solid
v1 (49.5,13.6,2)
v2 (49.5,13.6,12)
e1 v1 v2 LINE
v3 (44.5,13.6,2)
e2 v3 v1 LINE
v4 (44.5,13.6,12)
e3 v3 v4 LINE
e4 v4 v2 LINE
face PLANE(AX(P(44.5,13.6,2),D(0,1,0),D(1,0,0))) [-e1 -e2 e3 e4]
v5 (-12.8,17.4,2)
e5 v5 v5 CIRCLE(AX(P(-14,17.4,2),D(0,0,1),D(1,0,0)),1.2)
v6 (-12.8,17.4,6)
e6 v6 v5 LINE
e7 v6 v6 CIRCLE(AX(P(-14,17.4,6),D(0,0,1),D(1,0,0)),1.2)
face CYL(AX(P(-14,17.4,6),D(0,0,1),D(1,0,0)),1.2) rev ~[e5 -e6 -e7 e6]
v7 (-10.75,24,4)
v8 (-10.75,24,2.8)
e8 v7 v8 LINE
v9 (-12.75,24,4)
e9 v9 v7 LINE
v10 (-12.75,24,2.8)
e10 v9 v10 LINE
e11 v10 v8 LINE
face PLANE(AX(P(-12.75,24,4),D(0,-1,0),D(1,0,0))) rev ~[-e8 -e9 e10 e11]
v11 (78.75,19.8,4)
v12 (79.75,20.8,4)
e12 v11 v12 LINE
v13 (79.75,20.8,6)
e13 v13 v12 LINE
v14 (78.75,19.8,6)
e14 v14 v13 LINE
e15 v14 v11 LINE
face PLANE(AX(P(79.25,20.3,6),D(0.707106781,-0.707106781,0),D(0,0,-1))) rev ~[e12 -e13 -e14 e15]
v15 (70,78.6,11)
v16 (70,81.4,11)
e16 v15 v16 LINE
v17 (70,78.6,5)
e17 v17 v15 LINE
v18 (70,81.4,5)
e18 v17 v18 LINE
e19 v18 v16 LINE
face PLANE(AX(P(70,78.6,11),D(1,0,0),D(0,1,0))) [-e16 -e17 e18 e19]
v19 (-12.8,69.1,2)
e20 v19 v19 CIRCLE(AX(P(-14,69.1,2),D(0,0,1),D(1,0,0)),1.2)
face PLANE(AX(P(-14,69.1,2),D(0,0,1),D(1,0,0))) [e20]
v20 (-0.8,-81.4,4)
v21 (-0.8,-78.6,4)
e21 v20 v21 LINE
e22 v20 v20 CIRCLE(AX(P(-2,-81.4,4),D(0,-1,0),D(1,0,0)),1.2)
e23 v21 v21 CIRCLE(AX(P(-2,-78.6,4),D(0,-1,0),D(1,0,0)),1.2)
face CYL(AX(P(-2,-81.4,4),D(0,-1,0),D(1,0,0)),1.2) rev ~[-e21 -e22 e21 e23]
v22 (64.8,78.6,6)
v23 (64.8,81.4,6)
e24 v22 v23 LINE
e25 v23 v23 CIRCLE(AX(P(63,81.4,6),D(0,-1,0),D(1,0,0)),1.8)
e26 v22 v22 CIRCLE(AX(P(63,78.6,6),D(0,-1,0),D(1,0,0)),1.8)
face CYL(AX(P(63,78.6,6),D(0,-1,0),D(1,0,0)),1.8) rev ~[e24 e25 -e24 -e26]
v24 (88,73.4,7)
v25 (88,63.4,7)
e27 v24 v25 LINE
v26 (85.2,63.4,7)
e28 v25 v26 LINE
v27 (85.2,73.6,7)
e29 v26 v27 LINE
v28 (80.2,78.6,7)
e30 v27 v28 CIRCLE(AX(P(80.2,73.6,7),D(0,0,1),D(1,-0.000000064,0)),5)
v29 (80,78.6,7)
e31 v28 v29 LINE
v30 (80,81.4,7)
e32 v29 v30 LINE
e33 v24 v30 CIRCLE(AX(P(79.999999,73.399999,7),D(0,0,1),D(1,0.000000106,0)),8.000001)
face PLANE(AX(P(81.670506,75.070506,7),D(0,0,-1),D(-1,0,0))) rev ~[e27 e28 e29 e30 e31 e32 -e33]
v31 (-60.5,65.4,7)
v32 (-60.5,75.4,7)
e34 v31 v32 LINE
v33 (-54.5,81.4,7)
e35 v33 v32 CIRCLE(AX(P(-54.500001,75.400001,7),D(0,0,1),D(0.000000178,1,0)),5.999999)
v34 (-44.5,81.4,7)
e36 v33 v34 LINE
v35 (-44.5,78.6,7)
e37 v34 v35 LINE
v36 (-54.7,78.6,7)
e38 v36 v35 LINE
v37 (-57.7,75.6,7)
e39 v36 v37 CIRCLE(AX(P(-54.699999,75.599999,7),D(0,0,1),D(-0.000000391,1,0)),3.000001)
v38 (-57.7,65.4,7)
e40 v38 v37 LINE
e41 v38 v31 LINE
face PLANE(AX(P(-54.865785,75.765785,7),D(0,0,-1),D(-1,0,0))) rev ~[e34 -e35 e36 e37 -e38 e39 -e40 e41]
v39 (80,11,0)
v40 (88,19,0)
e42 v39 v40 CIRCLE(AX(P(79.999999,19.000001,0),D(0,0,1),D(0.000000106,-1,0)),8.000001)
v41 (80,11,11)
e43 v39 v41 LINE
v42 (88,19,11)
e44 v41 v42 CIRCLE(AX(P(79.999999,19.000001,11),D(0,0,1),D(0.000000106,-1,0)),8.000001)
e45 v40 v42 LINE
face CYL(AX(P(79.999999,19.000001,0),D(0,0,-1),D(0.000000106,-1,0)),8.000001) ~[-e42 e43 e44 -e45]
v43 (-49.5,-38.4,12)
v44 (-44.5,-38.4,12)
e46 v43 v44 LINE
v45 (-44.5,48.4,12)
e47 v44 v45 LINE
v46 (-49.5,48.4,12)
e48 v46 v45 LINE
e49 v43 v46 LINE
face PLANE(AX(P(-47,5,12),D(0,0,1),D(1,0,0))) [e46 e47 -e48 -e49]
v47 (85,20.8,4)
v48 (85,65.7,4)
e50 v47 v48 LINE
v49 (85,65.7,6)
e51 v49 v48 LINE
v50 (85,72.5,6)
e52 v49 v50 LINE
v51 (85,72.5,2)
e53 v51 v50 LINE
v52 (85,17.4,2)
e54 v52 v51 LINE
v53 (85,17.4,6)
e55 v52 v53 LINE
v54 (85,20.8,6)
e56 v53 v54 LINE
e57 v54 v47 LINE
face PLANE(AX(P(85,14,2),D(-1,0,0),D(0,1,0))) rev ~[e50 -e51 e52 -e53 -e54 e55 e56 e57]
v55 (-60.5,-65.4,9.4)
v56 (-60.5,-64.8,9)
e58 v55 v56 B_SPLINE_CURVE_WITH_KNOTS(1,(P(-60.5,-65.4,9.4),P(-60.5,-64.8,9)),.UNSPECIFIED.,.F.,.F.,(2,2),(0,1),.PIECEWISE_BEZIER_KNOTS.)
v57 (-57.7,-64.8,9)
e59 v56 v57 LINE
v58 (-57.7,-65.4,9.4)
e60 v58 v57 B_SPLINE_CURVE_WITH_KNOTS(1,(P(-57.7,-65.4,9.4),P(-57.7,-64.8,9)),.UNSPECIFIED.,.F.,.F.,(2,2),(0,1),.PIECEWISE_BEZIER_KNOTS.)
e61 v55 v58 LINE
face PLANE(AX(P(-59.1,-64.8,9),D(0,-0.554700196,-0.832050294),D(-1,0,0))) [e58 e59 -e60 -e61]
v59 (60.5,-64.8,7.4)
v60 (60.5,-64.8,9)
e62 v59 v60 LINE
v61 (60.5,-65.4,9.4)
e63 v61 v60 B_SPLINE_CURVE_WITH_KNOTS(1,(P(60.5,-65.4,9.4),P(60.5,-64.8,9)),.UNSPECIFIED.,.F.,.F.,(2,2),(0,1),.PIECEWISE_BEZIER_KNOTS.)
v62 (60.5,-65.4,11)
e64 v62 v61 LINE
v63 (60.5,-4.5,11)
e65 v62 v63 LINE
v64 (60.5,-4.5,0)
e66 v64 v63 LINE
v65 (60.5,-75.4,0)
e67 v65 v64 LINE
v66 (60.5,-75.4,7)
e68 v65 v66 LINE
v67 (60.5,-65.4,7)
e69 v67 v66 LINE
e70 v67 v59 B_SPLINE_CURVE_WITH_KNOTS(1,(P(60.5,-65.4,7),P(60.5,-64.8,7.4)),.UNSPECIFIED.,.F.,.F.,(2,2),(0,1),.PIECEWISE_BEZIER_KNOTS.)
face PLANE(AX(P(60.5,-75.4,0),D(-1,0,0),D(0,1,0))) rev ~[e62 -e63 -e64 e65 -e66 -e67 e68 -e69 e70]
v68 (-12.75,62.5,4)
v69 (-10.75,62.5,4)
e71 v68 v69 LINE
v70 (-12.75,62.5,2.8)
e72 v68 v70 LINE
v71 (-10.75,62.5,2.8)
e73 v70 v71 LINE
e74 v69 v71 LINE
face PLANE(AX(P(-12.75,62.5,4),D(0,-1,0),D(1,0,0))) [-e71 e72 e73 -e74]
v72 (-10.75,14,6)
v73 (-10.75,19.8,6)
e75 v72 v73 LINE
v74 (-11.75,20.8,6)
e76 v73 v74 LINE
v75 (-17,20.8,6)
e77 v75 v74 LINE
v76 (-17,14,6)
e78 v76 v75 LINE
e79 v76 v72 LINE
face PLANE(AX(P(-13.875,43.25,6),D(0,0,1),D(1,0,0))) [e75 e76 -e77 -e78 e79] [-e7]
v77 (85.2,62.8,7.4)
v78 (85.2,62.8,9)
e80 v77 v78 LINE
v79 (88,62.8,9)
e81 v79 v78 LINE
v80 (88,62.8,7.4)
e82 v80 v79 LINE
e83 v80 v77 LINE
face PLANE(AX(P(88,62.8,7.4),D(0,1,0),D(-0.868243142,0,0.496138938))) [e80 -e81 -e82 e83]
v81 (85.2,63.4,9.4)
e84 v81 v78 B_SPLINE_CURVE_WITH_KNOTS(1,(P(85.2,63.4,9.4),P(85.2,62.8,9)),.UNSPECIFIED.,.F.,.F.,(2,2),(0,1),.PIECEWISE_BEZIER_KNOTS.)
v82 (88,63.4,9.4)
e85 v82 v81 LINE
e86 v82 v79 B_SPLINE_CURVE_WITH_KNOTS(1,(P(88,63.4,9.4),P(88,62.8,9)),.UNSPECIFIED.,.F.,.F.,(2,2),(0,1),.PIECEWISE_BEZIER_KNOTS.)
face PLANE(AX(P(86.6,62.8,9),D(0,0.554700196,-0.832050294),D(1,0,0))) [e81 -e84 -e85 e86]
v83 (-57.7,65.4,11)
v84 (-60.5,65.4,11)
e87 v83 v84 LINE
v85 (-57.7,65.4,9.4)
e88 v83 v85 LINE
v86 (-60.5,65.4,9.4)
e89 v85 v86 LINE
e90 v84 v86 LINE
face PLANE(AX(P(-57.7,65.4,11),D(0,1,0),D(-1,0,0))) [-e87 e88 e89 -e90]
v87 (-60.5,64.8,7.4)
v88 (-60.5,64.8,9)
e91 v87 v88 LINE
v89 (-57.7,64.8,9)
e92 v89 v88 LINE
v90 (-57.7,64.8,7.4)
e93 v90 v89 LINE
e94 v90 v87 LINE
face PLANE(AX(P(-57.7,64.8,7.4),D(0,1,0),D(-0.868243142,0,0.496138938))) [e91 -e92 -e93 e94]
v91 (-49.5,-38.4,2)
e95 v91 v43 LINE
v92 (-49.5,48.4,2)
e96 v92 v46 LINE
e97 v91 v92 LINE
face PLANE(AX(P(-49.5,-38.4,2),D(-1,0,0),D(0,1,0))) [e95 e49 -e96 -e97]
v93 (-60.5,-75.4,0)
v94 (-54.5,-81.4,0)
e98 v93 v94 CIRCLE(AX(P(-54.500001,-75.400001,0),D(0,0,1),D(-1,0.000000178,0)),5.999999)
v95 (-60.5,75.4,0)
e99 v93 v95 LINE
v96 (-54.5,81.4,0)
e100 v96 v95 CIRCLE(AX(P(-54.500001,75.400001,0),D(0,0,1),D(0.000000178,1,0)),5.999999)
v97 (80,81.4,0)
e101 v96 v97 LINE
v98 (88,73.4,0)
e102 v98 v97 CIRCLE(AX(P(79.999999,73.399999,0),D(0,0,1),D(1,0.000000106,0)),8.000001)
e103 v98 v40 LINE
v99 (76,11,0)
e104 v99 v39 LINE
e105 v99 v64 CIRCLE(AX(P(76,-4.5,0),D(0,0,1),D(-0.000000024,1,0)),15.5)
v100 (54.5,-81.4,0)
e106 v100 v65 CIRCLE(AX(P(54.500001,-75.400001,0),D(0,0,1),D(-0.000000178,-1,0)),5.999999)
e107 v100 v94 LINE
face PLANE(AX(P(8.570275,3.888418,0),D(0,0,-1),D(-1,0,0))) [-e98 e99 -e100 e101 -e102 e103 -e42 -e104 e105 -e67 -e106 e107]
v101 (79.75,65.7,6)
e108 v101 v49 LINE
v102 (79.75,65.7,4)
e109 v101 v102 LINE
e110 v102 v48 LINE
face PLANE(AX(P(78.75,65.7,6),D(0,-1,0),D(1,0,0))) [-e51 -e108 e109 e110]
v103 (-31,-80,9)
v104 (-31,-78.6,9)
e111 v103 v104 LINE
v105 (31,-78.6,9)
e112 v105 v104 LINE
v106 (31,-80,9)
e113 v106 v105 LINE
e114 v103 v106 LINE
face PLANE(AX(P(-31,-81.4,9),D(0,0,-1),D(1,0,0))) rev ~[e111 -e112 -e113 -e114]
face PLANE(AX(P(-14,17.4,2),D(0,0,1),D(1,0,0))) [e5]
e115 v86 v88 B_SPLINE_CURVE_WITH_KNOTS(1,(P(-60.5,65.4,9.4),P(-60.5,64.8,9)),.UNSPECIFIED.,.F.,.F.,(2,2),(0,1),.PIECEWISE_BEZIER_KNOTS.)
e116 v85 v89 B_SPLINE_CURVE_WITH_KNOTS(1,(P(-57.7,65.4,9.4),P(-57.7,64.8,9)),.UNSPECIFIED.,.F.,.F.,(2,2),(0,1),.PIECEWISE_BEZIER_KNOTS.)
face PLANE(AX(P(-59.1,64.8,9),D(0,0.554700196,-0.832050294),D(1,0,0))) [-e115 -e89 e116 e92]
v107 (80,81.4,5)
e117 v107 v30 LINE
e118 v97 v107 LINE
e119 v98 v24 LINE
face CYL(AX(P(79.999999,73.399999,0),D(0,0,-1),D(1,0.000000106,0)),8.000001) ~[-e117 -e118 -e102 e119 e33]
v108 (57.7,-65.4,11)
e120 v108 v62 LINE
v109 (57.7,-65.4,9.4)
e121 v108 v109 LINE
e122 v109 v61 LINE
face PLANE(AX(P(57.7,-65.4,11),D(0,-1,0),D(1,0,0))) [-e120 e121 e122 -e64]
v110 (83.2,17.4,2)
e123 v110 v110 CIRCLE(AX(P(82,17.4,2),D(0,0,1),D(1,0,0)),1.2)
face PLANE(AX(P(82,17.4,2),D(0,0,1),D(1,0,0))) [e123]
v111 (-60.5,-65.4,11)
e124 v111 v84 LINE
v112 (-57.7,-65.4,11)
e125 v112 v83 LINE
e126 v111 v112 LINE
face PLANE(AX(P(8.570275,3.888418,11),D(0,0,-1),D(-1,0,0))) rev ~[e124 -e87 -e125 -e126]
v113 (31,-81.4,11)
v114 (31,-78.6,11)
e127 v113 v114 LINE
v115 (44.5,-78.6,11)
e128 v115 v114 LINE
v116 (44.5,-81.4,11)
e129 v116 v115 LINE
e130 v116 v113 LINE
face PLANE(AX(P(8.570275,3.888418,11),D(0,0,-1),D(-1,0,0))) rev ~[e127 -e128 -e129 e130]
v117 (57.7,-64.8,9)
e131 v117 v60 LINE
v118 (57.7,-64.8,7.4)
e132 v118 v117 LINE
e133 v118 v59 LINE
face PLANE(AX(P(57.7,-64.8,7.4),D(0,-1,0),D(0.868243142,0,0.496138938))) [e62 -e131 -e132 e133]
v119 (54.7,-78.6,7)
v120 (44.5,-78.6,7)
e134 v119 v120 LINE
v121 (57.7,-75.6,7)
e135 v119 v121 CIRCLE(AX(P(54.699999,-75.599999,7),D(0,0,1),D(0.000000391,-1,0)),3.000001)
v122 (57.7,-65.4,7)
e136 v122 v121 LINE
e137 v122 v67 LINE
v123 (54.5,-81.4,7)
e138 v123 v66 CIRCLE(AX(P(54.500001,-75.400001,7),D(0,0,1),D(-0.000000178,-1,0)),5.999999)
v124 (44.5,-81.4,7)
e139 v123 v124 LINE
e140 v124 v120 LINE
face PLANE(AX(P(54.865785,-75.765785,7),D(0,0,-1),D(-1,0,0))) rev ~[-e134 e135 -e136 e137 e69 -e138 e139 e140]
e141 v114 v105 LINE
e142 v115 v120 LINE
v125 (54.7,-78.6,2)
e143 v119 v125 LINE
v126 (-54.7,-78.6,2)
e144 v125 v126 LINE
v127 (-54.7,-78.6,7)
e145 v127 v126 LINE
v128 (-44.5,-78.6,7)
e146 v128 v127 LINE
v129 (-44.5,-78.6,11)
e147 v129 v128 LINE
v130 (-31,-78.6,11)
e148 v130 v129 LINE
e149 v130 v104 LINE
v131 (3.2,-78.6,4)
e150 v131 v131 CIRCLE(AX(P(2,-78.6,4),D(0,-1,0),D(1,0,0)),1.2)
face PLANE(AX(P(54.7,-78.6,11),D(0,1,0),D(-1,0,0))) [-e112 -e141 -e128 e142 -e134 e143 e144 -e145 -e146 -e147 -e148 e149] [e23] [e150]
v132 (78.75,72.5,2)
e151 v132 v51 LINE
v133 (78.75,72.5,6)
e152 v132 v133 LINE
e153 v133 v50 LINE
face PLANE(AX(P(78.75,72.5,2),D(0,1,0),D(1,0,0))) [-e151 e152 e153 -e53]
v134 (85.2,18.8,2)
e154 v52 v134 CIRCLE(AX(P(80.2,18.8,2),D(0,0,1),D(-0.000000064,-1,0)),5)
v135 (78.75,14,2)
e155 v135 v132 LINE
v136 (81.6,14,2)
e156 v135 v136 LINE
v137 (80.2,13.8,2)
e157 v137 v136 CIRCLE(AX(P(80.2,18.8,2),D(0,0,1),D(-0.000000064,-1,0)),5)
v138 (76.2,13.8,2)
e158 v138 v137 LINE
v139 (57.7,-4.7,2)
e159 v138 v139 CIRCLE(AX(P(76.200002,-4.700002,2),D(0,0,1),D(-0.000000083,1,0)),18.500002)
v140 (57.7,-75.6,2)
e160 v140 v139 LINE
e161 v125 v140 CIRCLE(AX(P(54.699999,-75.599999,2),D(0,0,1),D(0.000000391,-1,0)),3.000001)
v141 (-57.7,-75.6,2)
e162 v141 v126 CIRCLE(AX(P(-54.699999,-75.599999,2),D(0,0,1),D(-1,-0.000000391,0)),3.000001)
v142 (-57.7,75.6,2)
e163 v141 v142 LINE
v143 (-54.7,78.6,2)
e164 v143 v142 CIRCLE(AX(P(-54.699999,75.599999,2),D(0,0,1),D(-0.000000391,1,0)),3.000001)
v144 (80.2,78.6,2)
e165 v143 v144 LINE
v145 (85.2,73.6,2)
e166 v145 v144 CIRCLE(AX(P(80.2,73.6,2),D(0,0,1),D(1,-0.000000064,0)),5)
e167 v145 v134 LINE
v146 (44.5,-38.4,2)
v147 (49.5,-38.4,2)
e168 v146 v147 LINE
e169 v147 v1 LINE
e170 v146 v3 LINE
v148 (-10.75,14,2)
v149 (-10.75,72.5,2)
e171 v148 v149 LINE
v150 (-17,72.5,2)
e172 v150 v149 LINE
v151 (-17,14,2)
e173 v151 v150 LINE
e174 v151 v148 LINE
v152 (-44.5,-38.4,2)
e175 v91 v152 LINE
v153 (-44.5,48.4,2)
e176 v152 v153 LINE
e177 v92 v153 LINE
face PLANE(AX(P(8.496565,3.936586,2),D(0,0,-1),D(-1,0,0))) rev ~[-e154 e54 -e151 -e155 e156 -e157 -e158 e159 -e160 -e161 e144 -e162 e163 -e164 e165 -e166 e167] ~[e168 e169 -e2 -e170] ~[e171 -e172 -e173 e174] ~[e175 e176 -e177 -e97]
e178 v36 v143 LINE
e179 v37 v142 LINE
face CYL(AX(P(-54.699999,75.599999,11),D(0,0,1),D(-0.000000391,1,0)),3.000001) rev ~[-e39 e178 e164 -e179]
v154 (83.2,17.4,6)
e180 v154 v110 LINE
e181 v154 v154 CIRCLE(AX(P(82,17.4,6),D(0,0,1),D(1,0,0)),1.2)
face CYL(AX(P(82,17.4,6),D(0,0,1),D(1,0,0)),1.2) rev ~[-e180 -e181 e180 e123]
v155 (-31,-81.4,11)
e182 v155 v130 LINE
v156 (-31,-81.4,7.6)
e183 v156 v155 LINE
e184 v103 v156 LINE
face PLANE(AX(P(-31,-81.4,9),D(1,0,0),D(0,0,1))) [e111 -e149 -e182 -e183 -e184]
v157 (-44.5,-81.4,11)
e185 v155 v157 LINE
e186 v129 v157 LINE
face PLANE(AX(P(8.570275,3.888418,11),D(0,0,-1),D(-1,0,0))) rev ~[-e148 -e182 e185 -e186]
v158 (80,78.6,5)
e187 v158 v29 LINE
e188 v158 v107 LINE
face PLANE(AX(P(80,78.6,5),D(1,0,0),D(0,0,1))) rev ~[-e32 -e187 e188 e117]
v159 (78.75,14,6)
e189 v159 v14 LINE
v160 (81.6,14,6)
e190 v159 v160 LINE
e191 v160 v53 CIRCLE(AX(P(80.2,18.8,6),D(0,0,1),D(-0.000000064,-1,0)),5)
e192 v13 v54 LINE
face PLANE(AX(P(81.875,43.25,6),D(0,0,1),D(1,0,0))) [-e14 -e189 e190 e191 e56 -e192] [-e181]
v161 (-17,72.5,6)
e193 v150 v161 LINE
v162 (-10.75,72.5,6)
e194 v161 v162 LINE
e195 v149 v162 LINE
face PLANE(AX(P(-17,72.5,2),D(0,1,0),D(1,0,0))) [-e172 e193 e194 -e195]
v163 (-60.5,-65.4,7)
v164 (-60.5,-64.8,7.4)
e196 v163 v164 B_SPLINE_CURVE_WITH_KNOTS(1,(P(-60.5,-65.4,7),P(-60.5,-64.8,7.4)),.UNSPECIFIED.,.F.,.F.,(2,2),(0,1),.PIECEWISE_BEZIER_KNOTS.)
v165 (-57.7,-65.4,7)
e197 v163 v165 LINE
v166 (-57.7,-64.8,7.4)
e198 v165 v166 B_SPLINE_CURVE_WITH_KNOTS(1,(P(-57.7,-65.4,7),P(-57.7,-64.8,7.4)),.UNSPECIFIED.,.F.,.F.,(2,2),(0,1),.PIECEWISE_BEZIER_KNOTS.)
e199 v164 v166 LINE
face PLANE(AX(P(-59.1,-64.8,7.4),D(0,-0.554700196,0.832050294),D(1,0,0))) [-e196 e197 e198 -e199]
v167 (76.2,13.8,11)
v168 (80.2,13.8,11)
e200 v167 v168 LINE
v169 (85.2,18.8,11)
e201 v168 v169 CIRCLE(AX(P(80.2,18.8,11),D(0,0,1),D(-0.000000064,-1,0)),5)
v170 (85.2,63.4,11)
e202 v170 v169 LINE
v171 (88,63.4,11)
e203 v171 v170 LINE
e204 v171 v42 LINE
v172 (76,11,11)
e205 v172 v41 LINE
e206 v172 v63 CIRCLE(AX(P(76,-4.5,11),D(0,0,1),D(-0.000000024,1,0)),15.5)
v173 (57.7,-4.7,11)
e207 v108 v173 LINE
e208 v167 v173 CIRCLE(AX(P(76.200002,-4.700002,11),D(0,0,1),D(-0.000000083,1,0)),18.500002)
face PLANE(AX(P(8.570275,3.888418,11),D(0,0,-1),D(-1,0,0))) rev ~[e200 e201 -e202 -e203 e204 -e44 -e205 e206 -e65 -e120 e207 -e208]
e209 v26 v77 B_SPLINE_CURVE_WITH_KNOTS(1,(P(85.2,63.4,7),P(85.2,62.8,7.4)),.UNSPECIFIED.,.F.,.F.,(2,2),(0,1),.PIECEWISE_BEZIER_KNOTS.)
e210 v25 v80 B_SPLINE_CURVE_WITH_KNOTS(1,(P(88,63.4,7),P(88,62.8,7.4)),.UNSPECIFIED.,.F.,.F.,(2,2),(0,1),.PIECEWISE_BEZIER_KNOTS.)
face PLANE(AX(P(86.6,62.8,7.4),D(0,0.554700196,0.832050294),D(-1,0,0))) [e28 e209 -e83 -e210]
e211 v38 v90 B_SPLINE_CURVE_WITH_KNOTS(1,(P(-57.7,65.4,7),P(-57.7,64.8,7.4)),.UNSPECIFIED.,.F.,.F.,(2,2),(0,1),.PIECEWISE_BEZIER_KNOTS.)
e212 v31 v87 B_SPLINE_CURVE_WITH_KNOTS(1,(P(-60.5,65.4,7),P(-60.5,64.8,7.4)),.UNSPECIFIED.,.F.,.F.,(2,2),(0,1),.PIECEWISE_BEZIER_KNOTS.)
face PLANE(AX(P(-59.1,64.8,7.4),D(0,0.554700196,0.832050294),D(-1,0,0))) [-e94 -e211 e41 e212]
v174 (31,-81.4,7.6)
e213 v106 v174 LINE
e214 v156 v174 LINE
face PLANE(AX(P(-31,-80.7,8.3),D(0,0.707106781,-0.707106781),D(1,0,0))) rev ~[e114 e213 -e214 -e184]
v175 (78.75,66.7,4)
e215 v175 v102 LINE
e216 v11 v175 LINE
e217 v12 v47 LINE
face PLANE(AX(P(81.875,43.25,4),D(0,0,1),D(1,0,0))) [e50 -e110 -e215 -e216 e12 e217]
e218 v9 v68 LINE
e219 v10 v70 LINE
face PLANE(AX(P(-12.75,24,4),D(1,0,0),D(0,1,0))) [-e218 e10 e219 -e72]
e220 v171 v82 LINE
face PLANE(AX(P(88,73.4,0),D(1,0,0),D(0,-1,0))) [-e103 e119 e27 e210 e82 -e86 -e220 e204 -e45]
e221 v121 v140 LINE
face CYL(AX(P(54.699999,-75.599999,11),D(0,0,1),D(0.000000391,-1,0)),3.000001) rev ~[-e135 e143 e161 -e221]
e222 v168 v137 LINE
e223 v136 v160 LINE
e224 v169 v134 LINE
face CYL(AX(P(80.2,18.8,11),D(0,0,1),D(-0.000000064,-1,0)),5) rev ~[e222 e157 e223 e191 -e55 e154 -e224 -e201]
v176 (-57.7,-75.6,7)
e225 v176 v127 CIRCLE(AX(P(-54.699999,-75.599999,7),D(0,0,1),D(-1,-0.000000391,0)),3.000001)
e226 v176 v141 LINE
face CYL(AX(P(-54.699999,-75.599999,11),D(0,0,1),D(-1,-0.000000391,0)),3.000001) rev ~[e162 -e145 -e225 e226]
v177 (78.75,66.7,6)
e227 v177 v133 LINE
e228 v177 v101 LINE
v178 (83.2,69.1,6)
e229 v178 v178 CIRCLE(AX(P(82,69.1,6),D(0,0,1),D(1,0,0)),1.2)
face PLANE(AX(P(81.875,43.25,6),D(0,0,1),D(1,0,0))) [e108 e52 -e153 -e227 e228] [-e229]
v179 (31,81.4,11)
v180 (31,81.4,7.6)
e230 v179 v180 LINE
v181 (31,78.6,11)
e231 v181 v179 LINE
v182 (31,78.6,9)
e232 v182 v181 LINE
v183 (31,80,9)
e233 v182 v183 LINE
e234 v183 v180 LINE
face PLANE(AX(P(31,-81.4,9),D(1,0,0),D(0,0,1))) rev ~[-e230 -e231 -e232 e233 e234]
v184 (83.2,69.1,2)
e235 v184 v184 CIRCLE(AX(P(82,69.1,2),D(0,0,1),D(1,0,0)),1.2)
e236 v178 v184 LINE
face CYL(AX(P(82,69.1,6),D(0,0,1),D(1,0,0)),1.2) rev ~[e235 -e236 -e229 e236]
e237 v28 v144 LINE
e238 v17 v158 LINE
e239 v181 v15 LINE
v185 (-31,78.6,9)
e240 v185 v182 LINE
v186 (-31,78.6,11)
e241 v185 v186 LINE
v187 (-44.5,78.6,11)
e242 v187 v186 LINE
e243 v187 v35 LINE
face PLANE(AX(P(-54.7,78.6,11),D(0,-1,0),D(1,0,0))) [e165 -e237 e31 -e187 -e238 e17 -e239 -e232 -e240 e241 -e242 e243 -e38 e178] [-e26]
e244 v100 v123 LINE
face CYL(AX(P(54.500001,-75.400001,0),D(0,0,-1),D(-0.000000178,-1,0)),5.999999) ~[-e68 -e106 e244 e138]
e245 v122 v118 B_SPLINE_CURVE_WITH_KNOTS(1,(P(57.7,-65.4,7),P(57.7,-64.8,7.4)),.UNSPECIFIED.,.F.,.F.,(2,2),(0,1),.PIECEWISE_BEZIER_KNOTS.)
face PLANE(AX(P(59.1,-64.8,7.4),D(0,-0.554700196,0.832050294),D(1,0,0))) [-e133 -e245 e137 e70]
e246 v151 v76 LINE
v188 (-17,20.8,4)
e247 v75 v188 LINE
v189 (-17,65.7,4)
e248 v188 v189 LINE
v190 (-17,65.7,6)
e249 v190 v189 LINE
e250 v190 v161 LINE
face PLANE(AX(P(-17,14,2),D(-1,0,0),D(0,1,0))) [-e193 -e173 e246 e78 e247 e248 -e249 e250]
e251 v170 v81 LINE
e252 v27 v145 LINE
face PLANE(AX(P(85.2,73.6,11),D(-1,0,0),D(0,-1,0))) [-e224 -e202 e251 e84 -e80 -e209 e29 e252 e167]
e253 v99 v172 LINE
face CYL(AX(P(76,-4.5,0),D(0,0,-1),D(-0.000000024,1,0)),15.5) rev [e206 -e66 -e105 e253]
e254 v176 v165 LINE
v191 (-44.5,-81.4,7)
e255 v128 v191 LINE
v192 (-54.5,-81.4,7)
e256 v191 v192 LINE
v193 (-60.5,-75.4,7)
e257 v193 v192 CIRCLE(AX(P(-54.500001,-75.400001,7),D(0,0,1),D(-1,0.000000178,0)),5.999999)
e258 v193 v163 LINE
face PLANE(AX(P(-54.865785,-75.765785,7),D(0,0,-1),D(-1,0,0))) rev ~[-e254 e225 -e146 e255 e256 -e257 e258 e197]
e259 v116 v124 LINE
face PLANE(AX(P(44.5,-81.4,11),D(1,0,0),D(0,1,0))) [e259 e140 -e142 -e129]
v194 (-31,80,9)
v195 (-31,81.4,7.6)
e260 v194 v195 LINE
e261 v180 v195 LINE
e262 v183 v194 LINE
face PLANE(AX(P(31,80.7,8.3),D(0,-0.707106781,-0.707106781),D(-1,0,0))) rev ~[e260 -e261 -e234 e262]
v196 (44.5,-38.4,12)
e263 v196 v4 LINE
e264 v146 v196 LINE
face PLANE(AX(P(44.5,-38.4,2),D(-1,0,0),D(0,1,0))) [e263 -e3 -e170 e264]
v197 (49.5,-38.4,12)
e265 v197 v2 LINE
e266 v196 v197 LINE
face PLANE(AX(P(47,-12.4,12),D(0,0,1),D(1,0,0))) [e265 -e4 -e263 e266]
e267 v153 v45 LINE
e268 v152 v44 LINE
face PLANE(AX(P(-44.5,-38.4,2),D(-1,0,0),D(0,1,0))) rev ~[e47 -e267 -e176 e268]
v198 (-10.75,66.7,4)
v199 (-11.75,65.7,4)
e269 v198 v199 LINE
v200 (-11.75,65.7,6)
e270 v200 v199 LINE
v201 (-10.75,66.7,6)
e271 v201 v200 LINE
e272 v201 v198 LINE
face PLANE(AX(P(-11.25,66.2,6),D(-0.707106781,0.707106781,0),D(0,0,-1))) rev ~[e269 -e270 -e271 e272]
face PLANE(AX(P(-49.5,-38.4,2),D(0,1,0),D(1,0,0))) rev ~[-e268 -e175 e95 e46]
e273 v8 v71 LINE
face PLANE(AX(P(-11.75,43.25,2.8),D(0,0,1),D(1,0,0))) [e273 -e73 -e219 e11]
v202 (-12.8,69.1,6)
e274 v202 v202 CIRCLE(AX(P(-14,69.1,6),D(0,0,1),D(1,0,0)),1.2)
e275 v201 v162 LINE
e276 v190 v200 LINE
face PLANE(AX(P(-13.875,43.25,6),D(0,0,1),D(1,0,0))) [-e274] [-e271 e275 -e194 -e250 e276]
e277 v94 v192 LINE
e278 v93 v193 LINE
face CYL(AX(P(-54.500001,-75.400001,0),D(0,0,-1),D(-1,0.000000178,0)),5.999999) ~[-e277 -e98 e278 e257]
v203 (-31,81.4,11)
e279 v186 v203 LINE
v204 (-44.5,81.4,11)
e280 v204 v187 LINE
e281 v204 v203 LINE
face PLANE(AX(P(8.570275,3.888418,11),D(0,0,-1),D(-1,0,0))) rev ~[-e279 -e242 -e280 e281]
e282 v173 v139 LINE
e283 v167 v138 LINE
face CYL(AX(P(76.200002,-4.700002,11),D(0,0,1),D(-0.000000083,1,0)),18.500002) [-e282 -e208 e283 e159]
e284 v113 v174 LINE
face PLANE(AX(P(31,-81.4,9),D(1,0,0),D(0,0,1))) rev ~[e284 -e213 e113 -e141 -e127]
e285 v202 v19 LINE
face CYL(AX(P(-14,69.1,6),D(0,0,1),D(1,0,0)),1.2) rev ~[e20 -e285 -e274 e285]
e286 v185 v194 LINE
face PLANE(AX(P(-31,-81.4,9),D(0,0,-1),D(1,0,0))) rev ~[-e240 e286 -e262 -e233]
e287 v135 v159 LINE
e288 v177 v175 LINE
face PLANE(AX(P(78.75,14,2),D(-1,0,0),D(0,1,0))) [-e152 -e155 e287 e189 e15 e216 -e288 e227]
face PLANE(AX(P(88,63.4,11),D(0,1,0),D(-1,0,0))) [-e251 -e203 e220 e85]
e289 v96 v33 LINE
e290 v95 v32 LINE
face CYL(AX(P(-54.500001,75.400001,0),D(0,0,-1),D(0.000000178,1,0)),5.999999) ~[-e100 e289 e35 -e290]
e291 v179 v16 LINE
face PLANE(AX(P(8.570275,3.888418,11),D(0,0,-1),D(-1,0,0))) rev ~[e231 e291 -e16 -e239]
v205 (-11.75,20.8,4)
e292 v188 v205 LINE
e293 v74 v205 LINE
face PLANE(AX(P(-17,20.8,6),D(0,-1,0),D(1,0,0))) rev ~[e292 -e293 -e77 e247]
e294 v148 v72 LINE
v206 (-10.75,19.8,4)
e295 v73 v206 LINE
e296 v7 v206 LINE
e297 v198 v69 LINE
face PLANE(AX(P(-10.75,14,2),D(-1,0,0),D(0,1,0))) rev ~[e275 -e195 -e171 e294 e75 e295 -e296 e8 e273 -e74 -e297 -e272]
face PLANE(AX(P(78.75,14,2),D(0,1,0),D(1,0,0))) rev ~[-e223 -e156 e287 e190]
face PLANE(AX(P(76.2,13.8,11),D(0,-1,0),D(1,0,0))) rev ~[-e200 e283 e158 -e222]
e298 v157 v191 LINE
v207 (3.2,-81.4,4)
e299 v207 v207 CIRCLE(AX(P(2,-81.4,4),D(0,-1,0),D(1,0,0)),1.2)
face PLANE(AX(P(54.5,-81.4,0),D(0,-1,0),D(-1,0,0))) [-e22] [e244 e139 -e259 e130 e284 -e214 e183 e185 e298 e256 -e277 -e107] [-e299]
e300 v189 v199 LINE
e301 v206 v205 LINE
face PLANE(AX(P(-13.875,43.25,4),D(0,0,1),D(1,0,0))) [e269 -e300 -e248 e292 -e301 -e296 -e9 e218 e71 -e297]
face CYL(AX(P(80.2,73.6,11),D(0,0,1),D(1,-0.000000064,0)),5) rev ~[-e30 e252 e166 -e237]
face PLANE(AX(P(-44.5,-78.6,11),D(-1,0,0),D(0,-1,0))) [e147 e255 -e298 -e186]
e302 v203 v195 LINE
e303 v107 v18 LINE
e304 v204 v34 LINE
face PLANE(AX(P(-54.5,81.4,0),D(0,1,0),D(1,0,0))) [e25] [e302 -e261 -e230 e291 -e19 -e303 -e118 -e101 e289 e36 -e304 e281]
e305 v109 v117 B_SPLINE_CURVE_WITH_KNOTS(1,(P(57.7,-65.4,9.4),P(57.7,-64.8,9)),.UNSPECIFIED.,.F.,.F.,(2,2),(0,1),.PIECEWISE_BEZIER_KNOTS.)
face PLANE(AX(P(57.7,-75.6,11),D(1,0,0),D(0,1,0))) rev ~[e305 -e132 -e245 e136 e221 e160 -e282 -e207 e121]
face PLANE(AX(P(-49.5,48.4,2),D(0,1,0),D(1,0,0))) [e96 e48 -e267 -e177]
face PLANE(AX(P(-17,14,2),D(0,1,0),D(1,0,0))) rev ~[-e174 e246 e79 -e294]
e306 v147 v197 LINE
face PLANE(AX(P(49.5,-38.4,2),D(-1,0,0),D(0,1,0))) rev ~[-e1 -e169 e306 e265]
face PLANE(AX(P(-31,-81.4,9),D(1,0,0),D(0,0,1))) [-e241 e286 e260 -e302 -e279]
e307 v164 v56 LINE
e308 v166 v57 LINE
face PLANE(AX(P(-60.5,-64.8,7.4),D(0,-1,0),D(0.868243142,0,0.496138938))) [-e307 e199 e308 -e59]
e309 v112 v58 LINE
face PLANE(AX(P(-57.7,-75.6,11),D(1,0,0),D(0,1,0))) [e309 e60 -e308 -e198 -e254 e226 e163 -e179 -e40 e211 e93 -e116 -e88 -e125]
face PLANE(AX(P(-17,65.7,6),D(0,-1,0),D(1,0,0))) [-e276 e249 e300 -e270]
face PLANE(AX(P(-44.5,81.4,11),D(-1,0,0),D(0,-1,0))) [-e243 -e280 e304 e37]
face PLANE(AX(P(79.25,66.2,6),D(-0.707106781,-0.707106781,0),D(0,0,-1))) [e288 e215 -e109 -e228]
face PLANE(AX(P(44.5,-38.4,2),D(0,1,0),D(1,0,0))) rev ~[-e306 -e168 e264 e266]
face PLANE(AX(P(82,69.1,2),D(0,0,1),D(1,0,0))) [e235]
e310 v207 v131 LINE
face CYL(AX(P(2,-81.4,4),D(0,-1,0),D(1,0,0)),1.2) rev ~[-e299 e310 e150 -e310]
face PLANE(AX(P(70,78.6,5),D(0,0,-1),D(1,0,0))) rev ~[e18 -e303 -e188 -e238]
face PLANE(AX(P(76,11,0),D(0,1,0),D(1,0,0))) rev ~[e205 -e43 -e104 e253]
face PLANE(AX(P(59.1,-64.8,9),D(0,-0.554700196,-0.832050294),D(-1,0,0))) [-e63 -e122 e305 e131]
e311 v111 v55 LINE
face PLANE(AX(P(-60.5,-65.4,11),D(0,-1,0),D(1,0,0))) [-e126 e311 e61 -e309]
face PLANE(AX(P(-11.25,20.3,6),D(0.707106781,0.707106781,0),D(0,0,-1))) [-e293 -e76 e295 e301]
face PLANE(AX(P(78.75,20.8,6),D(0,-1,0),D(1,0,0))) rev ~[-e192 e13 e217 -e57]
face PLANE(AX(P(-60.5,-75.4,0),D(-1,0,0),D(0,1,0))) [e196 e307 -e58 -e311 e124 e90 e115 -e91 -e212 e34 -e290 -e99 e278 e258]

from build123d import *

# Parameters (mm, degrees)
PAD008_DEPTH    = 11
POCKET005_DEPTH = 9
SKETCH019_W     = 6.25
SKETCH019_H     = 58.5
PAD009_DEPTH    = 4
SKETCH020_W     = 6.25
SKETCH020_H     = 44.9
POCKET008_DEPTH = 2
SKETCH021_W     = 5
SKETCH021_H     = 86.8
SKETCH021_H_2   = 52
PAD010_DEPTH    = 10
SKETCH024_W     = 62
SKETCH024_H     = 2
POCKET011_DEPTH = 162.801
POCKET012_DEPTH = 4
SKETCH027_W     = 2.8
SKETCH027_H     = 2.4
SKETCH032_W     = 2.8
SKETCH032_H     = 1.6
SKETCH030_W     = 2.8
SKETCH030_H     = 2.4
SKETCH033_W     = 2.8
SKETCH033_H     = 1.6
SKETCH029_W     = 2.8
SKETCH029_H     = 2.4
SKETCH034_W     = 2.8
SKETCH034_H     = 1.6
SKETCH028_W     = 2.8
SKETCH028_H     = 2.4
SKETCH044_W     = 2.8
SKETCH044_H     = 1.6
CHAMFER_SIZE    = 1
SKETCH053_R     = 1.2
POCKET013_DEPTH = 4
SKETCH057_R     = 1.2
POCKET015_DEPTH = 3
SKETCH072_R     = 1.8
SKETCH072_W     = 10
SKETCH072_H     = 2
POCKET024_DEPTH = 3
SKETCH073_W     = 2
SKETCH073_H     = 38.5
POCKET025_DEPTH = 1.2
CHAMFER005_SIZE = 1.4


with BuildPart() as part:
    # Sketch015 → Pad008 (new body)
    with BuildSketch(Plane.XY):
        with BuildLine():
            Line((-54.5, 81.4), (80, 81.4))
            ThreePointArc((88, 73.4), (85.656854, 79.056854), (80, 81.4))
            Line((88, 73.4), (88, 19))
            ThreePointArc((80, 11), (85.656854, 13.343146), (88, 19))
            Line((76, 11), (80, 11))
            ThreePointArc((76, 11), (65.039845, 6.460155), (60.5, -4.5))
            Line((60.5, -75.4), (60.5, -4.5))
            ThreePointArc((54.5, -81.4), (58.742641, -79.642641), (60.5, -75.4))
            Line((54.5, -81.4), (-54.5, -81.4))
            ThreePointArc((-60.5, -75.4), (-58.742641, -79.642641), (-54.5, -81.4))
            Line((-60.5, -75.4), (-60.5, 75.4))
            ThreePointArc((-54.5, 81.4), (-58.742641, 79.642641), (-60.5, 75.4))
        make_face()
    extrude(amount=PAD008_DEPTH)

    # Sketch016 (on Face14 of Pad008) → Pocket005 (cut)
    with BuildSketch(Plane.XY.offset(11)):
        with BuildLine():
            Line((-54.7, 78.6), (80.2, 78.6))
            ThreePointArc((85.2, 73.6), (83.735534, 77.135534), (80.2, 78.6))
            Line((85.2, 73.6), (85.2, 18.8))
            ThreePointArc((80.2, 13.8), (83.735534, 15.264466), (85.2, 18.8))
            Line((76.2, 13.8), (80.2, 13.8))
            ThreePointArc((76.2, 13.8), (63.118525, 8.381475), (57.7, -4.7))
            Line((57.7, -75.6), (57.7, -4.7))
            ThreePointArc((54.7, -78.6), (56.82132, -77.72132), (57.7, -75.6))
            Line((54.7, -78.6), (-54.7, -78.6))
            ThreePointArc((-57.7, -75.6), (-56.82132, -77.72132), (-54.7, -78.6))
            Line((-57.7, -75.6), (-57.7, 75.6))
            ThreePointArc((-54.7, 78.6), (-56.82132, 77.72132), (-57.7, 75.6))
        make_face()
    extrude(amount=-POCKET005_DEPTH, mode=Mode.SUBTRACT)

    # Sketch019 (on Face27 of Pocket005) → Pad009 (join)
    with BuildSketch(Plane.XY.offset(2)):
        with Locations((-13.875, 43.25)):
            Rectangle(SKETCH019_W, SKETCH019_H)
        with Locations((81.875, 43.25)):
            Rectangle(SKETCH019_W, SKETCH019_H)
    extrude(amount=PAD009_DEPTH)

    # Sketch020 (on Face37 of Pad009) → Pocket008 (cut)
    with BuildSketch(Plane.XY.offset(6)):
        with Locations((-13.875, 43.25)):
            Rectangle(SKETCH020_W, SKETCH020_H)
        with Locations((81.875, 43.25)):
            Rectangle(SKETCH020_W, SKETCH020_H)
    extrude(amount=-POCKET008_DEPTH, mode=Mode.SUBTRACT)

    # Sketch021 (on Face27 of Pocket008) → Pad010 (join)
    with BuildSketch(Plane.XY.offset(2)):
        with Locations((-47, 5)):
            Rectangle(SKETCH021_W, SKETCH021_H)
        with Locations((47, -12.4)):
            Rectangle(SKETCH021_W, SKETCH021_H_2)
    extrude(amount=PAD010_DEPTH)

    # Sketch024 (on Face6 of Pad010) → Pocket011 (cut, through all)
    with BuildSketch(Plane.XZ.offset(81.4)):
        with Locations((0, 10)):
            Rectangle(SKETCH024_W, SKETCH024_H)
    extrude(amount=-POCKET011_DEPTH, mode=Mode.SUBTRACT)

    # Sketch025 (on Face5 of Pocket011) → Pocket012 (cut)
    with BuildSketch(Plane.XY.offset(11)):
        with BuildLine():
            Line((-54.5, 81.4), (-44.5, 81.4))
            Line((-44.5, 81.4), (-44.5, 78.6))
            Line((-54.7, 78.6), (-44.5, 78.6))
            ThreePointArc((-54.7, 78.6), (-56.82132, 77.72132), (-57.7, 75.6))
            Line((-57.7, 65.4), (-57.7, 75.6))
            Line((-57.7, 65.4), (-60.5, 65.4))
            Line((-60.5, 65.4), (-60.5, 75.4))
            ThreePointArc((-54.5, 81.4), (-58.742641, 79.642641), (-60.5, 75.4))
        make_face()
        with BuildLine():
            Line((70, 81.4), (80, 81.4))
            ThreePointArc((88, 73.4), (85.656854, 79.056854), (80, 81.4))
            Line((88, 73.4), (88, 63.4))
            Line((88, 63.4), (85.2, 63.4))
            Line((85.2, 73.4), (85.2, 63.4))
            ThreePointArc((85.2, 73.4), (83.676955, 77.076955), (80, 78.6))
            Line((70, 78.6), (80, 78.6))
            Line((70, 78.6), (70, 81.4))
        make_face()
        with BuildLine():
            Line((-60.5, -65.4), (-57.7, -65.4))
            Line((-57.7, -75.6), (-57.7, -65.4))
            ThreePointArc((-57.7, -75.6), (-56.82132, -77.72132), (-54.7, -78.6))
            Line((-44.5, -78.6), (-54.7, -78.6))
            Line((-44.5, -78.6), (-44.5, -81.4))
            Line((-44.5, -81.4), (-54.5, -81.4))
            ThreePointArc((-60.5, -75.4), (-58.742641, -79.642641), (-54.5, -81.4))
            Line((-60.5, -75.4), (-60.5, -65.4))
        make_face()
        with BuildLine():
            Line((57.7, -65.4), (60.5, -65.4))
            Line((60.5, -65.4), (60.5, -75.4))
            ThreePointArc((54.5, -81.4), (58.742641, -79.642641), (60.5, -75.4))
            Line((54.5, -81.4), (44.5, -81.4))
            Line((44.5, -81.4), (44.5, -78.6))
            Line((54.7, -78.6), (44.5, -78.6))
            ThreePointArc((54.7, -78.6), (56.82132, -77.72132), (57.7, -75.6))
            Line((57.7, -65.4), (57.7, -75.6))
        make_face()
    extrude(amount=-POCKET012_DEPTH, mode=Mode.SUBTRACT)

    # Sketch027 (on Face35 of Pocket012) → SubtractiveLoft section 0
    with BuildSketch(Plane.XZ.offset(65.4)):
        with Locations((-59.1, 8.2)):
            Rectangle(SKETCH027_W, SKETCH027_H)
    # Sketch032 (on DatumPlane) → SubtractiveLoft section 1
    with BuildSketch(Plane.XZ.offset(64.8)):
        with Locations((-59.1, 8.2)):
            Rectangle(SKETCH032_W, SKETCH032_H)
    loft(mode=Mode.SUBTRACT)

    # Sketch030 (on Face35 of Pocket012) → SubtractiveLoft001 section 0
    with BuildSketch(Plane.XZ.offset(65.4)):
        with Locations((59.1, 8.2)):
            Rectangle(SKETCH030_W, SKETCH030_H)
    # Sketch033 (on DatumPlane) → SubtractiveLoft001 section 1
    with BuildSketch(Plane.XZ.offset(64.8)):
        with Locations((59.1, 8.2)):
            Rectangle(SKETCH033_W, SKETCH033_H)
    loft(mode=Mode.SUBTRACT)

    # Sketch029 → SubtractiveLoft002 section 0
    with BuildSketch(Plane(origin=(0, 65.4, 0), x_dir=(-1, 0, 0), z_dir=(0, 1, 0))):
        with Locations((59.1, 8.2)):
            Rectangle(SKETCH029_W, SKETCH029_H)
    # Sketch034 (on DatumPlane) → SubtractiveLoft002 section 1
    with BuildSketch(Plane(origin=(0, 64.8, 0), x_dir=(-1, 0, 0), z_dir=(0, 1, 0))):
        with Locations((59.1, 8.2)):
            Rectangle(SKETCH034_W, SKETCH034_H)
    loft(mode=Mode.SUBTRACT)

    # Sketch028 → SubtractiveLoft003 section 0
    with BuildSketch(Plane(origin=(0, 63.4, 0), x_dir=(-1, 0, 0), z_dir=(0, 1, 0))):
        with Locations((-86.6, 8.2)):
            Rectangle(SKETCH028_W, SKETCH028_H)
    # Sketch044 (on DatumPlane) → SubtractiveLoft003 section 1
    with BuildSketch(Plane(origin=(0, 62.8, 0), x_dir=(-1, 0, 0), z_dir=(0, 1, 0))):
        with Locations((-86.6, 8.2)):
            Rectangle(SKETCH044_W, SKETCH044_H)
    loft(mode=Mode.SUBTRACT)

    # Chamfer
    chamfer_edges = [part.edges().sort_by_distance(p)[0] for p in [
        (-10.75, 20.8, 5),
        (-10.75, 65.7, 5),
        (78.75, 65.7, 5),
        (78.75, 20.8, 5),
    ]]
    chamfer(chamfer_edges, length=CHAMFER_SIZE)

    # Sketch053 (on Face74 of Chamfer) → Pocket013 (cut)
    with BuildSketch(Plane.XY.offset(6)):
        with Locations((-14, 69.1)):
            Circle(SKETCH053_R)
        with Locations((-14, 17.4)):
            Circle(SKETCH053_R)
        with Locations((82, 17.4)):
            Circle(SKETCH053_R)
        with Locations((82, 69.1)):
            Circle(SKETCH053_R)
    extrude(amount=-POCKET013_DEPTH, mode=Mode.SUBTRACT)

    # Sketch057 (on Face87 of Pocket013) → Pocket015 (cut)
    with BuildSketch(Plane.XZ.offset(81.4)):
        with Locations((-2, 4)):
            Circle(SKETCH057_R)
        with Locations((2, 4)):
            Circle(SKETCH057_R)
    extrude(amount=-POCKET015_DEPTH, mode=Mode.SUBTRACT)

    # Sketch072 (on Face19 of Pocket015) → Pocket024 (cut)
    with BuildSketch(Plane.XZ.offset(-78.6)):
        with Locations((63, 6)):
            Circle(SKETCH072_R)
        with Locations((75, 6)):
            Rectangle(SKETCH072_W, SKETCH072_H)
    extrude(amount=-POCKET024_DEPTH, mode=Mode.SUBTRACT)

    # Sketch073 (on Face85 of Pocket024) → Pocket025 (cut)
    with BuildSketch(Plane.XY.offset(4)):
        with Locations((-11.75, 43.25)):
            Rectangle(SKETCH073_W, SKETCH073_H)
    extrude(amount=-POCKET025_DEPTH, mode=Mode.SUBTRACT)

    # Chamfer005
    chamfer005_edges = [part.edges().sort_by_distance(p)[0] for p in [
        (0, -81.4, 9),
        (0, 81.4, 9),
    ]]
    chamfer(chamfer005_edges, length=CHAMFER005_SIZE)


solid = part.part
